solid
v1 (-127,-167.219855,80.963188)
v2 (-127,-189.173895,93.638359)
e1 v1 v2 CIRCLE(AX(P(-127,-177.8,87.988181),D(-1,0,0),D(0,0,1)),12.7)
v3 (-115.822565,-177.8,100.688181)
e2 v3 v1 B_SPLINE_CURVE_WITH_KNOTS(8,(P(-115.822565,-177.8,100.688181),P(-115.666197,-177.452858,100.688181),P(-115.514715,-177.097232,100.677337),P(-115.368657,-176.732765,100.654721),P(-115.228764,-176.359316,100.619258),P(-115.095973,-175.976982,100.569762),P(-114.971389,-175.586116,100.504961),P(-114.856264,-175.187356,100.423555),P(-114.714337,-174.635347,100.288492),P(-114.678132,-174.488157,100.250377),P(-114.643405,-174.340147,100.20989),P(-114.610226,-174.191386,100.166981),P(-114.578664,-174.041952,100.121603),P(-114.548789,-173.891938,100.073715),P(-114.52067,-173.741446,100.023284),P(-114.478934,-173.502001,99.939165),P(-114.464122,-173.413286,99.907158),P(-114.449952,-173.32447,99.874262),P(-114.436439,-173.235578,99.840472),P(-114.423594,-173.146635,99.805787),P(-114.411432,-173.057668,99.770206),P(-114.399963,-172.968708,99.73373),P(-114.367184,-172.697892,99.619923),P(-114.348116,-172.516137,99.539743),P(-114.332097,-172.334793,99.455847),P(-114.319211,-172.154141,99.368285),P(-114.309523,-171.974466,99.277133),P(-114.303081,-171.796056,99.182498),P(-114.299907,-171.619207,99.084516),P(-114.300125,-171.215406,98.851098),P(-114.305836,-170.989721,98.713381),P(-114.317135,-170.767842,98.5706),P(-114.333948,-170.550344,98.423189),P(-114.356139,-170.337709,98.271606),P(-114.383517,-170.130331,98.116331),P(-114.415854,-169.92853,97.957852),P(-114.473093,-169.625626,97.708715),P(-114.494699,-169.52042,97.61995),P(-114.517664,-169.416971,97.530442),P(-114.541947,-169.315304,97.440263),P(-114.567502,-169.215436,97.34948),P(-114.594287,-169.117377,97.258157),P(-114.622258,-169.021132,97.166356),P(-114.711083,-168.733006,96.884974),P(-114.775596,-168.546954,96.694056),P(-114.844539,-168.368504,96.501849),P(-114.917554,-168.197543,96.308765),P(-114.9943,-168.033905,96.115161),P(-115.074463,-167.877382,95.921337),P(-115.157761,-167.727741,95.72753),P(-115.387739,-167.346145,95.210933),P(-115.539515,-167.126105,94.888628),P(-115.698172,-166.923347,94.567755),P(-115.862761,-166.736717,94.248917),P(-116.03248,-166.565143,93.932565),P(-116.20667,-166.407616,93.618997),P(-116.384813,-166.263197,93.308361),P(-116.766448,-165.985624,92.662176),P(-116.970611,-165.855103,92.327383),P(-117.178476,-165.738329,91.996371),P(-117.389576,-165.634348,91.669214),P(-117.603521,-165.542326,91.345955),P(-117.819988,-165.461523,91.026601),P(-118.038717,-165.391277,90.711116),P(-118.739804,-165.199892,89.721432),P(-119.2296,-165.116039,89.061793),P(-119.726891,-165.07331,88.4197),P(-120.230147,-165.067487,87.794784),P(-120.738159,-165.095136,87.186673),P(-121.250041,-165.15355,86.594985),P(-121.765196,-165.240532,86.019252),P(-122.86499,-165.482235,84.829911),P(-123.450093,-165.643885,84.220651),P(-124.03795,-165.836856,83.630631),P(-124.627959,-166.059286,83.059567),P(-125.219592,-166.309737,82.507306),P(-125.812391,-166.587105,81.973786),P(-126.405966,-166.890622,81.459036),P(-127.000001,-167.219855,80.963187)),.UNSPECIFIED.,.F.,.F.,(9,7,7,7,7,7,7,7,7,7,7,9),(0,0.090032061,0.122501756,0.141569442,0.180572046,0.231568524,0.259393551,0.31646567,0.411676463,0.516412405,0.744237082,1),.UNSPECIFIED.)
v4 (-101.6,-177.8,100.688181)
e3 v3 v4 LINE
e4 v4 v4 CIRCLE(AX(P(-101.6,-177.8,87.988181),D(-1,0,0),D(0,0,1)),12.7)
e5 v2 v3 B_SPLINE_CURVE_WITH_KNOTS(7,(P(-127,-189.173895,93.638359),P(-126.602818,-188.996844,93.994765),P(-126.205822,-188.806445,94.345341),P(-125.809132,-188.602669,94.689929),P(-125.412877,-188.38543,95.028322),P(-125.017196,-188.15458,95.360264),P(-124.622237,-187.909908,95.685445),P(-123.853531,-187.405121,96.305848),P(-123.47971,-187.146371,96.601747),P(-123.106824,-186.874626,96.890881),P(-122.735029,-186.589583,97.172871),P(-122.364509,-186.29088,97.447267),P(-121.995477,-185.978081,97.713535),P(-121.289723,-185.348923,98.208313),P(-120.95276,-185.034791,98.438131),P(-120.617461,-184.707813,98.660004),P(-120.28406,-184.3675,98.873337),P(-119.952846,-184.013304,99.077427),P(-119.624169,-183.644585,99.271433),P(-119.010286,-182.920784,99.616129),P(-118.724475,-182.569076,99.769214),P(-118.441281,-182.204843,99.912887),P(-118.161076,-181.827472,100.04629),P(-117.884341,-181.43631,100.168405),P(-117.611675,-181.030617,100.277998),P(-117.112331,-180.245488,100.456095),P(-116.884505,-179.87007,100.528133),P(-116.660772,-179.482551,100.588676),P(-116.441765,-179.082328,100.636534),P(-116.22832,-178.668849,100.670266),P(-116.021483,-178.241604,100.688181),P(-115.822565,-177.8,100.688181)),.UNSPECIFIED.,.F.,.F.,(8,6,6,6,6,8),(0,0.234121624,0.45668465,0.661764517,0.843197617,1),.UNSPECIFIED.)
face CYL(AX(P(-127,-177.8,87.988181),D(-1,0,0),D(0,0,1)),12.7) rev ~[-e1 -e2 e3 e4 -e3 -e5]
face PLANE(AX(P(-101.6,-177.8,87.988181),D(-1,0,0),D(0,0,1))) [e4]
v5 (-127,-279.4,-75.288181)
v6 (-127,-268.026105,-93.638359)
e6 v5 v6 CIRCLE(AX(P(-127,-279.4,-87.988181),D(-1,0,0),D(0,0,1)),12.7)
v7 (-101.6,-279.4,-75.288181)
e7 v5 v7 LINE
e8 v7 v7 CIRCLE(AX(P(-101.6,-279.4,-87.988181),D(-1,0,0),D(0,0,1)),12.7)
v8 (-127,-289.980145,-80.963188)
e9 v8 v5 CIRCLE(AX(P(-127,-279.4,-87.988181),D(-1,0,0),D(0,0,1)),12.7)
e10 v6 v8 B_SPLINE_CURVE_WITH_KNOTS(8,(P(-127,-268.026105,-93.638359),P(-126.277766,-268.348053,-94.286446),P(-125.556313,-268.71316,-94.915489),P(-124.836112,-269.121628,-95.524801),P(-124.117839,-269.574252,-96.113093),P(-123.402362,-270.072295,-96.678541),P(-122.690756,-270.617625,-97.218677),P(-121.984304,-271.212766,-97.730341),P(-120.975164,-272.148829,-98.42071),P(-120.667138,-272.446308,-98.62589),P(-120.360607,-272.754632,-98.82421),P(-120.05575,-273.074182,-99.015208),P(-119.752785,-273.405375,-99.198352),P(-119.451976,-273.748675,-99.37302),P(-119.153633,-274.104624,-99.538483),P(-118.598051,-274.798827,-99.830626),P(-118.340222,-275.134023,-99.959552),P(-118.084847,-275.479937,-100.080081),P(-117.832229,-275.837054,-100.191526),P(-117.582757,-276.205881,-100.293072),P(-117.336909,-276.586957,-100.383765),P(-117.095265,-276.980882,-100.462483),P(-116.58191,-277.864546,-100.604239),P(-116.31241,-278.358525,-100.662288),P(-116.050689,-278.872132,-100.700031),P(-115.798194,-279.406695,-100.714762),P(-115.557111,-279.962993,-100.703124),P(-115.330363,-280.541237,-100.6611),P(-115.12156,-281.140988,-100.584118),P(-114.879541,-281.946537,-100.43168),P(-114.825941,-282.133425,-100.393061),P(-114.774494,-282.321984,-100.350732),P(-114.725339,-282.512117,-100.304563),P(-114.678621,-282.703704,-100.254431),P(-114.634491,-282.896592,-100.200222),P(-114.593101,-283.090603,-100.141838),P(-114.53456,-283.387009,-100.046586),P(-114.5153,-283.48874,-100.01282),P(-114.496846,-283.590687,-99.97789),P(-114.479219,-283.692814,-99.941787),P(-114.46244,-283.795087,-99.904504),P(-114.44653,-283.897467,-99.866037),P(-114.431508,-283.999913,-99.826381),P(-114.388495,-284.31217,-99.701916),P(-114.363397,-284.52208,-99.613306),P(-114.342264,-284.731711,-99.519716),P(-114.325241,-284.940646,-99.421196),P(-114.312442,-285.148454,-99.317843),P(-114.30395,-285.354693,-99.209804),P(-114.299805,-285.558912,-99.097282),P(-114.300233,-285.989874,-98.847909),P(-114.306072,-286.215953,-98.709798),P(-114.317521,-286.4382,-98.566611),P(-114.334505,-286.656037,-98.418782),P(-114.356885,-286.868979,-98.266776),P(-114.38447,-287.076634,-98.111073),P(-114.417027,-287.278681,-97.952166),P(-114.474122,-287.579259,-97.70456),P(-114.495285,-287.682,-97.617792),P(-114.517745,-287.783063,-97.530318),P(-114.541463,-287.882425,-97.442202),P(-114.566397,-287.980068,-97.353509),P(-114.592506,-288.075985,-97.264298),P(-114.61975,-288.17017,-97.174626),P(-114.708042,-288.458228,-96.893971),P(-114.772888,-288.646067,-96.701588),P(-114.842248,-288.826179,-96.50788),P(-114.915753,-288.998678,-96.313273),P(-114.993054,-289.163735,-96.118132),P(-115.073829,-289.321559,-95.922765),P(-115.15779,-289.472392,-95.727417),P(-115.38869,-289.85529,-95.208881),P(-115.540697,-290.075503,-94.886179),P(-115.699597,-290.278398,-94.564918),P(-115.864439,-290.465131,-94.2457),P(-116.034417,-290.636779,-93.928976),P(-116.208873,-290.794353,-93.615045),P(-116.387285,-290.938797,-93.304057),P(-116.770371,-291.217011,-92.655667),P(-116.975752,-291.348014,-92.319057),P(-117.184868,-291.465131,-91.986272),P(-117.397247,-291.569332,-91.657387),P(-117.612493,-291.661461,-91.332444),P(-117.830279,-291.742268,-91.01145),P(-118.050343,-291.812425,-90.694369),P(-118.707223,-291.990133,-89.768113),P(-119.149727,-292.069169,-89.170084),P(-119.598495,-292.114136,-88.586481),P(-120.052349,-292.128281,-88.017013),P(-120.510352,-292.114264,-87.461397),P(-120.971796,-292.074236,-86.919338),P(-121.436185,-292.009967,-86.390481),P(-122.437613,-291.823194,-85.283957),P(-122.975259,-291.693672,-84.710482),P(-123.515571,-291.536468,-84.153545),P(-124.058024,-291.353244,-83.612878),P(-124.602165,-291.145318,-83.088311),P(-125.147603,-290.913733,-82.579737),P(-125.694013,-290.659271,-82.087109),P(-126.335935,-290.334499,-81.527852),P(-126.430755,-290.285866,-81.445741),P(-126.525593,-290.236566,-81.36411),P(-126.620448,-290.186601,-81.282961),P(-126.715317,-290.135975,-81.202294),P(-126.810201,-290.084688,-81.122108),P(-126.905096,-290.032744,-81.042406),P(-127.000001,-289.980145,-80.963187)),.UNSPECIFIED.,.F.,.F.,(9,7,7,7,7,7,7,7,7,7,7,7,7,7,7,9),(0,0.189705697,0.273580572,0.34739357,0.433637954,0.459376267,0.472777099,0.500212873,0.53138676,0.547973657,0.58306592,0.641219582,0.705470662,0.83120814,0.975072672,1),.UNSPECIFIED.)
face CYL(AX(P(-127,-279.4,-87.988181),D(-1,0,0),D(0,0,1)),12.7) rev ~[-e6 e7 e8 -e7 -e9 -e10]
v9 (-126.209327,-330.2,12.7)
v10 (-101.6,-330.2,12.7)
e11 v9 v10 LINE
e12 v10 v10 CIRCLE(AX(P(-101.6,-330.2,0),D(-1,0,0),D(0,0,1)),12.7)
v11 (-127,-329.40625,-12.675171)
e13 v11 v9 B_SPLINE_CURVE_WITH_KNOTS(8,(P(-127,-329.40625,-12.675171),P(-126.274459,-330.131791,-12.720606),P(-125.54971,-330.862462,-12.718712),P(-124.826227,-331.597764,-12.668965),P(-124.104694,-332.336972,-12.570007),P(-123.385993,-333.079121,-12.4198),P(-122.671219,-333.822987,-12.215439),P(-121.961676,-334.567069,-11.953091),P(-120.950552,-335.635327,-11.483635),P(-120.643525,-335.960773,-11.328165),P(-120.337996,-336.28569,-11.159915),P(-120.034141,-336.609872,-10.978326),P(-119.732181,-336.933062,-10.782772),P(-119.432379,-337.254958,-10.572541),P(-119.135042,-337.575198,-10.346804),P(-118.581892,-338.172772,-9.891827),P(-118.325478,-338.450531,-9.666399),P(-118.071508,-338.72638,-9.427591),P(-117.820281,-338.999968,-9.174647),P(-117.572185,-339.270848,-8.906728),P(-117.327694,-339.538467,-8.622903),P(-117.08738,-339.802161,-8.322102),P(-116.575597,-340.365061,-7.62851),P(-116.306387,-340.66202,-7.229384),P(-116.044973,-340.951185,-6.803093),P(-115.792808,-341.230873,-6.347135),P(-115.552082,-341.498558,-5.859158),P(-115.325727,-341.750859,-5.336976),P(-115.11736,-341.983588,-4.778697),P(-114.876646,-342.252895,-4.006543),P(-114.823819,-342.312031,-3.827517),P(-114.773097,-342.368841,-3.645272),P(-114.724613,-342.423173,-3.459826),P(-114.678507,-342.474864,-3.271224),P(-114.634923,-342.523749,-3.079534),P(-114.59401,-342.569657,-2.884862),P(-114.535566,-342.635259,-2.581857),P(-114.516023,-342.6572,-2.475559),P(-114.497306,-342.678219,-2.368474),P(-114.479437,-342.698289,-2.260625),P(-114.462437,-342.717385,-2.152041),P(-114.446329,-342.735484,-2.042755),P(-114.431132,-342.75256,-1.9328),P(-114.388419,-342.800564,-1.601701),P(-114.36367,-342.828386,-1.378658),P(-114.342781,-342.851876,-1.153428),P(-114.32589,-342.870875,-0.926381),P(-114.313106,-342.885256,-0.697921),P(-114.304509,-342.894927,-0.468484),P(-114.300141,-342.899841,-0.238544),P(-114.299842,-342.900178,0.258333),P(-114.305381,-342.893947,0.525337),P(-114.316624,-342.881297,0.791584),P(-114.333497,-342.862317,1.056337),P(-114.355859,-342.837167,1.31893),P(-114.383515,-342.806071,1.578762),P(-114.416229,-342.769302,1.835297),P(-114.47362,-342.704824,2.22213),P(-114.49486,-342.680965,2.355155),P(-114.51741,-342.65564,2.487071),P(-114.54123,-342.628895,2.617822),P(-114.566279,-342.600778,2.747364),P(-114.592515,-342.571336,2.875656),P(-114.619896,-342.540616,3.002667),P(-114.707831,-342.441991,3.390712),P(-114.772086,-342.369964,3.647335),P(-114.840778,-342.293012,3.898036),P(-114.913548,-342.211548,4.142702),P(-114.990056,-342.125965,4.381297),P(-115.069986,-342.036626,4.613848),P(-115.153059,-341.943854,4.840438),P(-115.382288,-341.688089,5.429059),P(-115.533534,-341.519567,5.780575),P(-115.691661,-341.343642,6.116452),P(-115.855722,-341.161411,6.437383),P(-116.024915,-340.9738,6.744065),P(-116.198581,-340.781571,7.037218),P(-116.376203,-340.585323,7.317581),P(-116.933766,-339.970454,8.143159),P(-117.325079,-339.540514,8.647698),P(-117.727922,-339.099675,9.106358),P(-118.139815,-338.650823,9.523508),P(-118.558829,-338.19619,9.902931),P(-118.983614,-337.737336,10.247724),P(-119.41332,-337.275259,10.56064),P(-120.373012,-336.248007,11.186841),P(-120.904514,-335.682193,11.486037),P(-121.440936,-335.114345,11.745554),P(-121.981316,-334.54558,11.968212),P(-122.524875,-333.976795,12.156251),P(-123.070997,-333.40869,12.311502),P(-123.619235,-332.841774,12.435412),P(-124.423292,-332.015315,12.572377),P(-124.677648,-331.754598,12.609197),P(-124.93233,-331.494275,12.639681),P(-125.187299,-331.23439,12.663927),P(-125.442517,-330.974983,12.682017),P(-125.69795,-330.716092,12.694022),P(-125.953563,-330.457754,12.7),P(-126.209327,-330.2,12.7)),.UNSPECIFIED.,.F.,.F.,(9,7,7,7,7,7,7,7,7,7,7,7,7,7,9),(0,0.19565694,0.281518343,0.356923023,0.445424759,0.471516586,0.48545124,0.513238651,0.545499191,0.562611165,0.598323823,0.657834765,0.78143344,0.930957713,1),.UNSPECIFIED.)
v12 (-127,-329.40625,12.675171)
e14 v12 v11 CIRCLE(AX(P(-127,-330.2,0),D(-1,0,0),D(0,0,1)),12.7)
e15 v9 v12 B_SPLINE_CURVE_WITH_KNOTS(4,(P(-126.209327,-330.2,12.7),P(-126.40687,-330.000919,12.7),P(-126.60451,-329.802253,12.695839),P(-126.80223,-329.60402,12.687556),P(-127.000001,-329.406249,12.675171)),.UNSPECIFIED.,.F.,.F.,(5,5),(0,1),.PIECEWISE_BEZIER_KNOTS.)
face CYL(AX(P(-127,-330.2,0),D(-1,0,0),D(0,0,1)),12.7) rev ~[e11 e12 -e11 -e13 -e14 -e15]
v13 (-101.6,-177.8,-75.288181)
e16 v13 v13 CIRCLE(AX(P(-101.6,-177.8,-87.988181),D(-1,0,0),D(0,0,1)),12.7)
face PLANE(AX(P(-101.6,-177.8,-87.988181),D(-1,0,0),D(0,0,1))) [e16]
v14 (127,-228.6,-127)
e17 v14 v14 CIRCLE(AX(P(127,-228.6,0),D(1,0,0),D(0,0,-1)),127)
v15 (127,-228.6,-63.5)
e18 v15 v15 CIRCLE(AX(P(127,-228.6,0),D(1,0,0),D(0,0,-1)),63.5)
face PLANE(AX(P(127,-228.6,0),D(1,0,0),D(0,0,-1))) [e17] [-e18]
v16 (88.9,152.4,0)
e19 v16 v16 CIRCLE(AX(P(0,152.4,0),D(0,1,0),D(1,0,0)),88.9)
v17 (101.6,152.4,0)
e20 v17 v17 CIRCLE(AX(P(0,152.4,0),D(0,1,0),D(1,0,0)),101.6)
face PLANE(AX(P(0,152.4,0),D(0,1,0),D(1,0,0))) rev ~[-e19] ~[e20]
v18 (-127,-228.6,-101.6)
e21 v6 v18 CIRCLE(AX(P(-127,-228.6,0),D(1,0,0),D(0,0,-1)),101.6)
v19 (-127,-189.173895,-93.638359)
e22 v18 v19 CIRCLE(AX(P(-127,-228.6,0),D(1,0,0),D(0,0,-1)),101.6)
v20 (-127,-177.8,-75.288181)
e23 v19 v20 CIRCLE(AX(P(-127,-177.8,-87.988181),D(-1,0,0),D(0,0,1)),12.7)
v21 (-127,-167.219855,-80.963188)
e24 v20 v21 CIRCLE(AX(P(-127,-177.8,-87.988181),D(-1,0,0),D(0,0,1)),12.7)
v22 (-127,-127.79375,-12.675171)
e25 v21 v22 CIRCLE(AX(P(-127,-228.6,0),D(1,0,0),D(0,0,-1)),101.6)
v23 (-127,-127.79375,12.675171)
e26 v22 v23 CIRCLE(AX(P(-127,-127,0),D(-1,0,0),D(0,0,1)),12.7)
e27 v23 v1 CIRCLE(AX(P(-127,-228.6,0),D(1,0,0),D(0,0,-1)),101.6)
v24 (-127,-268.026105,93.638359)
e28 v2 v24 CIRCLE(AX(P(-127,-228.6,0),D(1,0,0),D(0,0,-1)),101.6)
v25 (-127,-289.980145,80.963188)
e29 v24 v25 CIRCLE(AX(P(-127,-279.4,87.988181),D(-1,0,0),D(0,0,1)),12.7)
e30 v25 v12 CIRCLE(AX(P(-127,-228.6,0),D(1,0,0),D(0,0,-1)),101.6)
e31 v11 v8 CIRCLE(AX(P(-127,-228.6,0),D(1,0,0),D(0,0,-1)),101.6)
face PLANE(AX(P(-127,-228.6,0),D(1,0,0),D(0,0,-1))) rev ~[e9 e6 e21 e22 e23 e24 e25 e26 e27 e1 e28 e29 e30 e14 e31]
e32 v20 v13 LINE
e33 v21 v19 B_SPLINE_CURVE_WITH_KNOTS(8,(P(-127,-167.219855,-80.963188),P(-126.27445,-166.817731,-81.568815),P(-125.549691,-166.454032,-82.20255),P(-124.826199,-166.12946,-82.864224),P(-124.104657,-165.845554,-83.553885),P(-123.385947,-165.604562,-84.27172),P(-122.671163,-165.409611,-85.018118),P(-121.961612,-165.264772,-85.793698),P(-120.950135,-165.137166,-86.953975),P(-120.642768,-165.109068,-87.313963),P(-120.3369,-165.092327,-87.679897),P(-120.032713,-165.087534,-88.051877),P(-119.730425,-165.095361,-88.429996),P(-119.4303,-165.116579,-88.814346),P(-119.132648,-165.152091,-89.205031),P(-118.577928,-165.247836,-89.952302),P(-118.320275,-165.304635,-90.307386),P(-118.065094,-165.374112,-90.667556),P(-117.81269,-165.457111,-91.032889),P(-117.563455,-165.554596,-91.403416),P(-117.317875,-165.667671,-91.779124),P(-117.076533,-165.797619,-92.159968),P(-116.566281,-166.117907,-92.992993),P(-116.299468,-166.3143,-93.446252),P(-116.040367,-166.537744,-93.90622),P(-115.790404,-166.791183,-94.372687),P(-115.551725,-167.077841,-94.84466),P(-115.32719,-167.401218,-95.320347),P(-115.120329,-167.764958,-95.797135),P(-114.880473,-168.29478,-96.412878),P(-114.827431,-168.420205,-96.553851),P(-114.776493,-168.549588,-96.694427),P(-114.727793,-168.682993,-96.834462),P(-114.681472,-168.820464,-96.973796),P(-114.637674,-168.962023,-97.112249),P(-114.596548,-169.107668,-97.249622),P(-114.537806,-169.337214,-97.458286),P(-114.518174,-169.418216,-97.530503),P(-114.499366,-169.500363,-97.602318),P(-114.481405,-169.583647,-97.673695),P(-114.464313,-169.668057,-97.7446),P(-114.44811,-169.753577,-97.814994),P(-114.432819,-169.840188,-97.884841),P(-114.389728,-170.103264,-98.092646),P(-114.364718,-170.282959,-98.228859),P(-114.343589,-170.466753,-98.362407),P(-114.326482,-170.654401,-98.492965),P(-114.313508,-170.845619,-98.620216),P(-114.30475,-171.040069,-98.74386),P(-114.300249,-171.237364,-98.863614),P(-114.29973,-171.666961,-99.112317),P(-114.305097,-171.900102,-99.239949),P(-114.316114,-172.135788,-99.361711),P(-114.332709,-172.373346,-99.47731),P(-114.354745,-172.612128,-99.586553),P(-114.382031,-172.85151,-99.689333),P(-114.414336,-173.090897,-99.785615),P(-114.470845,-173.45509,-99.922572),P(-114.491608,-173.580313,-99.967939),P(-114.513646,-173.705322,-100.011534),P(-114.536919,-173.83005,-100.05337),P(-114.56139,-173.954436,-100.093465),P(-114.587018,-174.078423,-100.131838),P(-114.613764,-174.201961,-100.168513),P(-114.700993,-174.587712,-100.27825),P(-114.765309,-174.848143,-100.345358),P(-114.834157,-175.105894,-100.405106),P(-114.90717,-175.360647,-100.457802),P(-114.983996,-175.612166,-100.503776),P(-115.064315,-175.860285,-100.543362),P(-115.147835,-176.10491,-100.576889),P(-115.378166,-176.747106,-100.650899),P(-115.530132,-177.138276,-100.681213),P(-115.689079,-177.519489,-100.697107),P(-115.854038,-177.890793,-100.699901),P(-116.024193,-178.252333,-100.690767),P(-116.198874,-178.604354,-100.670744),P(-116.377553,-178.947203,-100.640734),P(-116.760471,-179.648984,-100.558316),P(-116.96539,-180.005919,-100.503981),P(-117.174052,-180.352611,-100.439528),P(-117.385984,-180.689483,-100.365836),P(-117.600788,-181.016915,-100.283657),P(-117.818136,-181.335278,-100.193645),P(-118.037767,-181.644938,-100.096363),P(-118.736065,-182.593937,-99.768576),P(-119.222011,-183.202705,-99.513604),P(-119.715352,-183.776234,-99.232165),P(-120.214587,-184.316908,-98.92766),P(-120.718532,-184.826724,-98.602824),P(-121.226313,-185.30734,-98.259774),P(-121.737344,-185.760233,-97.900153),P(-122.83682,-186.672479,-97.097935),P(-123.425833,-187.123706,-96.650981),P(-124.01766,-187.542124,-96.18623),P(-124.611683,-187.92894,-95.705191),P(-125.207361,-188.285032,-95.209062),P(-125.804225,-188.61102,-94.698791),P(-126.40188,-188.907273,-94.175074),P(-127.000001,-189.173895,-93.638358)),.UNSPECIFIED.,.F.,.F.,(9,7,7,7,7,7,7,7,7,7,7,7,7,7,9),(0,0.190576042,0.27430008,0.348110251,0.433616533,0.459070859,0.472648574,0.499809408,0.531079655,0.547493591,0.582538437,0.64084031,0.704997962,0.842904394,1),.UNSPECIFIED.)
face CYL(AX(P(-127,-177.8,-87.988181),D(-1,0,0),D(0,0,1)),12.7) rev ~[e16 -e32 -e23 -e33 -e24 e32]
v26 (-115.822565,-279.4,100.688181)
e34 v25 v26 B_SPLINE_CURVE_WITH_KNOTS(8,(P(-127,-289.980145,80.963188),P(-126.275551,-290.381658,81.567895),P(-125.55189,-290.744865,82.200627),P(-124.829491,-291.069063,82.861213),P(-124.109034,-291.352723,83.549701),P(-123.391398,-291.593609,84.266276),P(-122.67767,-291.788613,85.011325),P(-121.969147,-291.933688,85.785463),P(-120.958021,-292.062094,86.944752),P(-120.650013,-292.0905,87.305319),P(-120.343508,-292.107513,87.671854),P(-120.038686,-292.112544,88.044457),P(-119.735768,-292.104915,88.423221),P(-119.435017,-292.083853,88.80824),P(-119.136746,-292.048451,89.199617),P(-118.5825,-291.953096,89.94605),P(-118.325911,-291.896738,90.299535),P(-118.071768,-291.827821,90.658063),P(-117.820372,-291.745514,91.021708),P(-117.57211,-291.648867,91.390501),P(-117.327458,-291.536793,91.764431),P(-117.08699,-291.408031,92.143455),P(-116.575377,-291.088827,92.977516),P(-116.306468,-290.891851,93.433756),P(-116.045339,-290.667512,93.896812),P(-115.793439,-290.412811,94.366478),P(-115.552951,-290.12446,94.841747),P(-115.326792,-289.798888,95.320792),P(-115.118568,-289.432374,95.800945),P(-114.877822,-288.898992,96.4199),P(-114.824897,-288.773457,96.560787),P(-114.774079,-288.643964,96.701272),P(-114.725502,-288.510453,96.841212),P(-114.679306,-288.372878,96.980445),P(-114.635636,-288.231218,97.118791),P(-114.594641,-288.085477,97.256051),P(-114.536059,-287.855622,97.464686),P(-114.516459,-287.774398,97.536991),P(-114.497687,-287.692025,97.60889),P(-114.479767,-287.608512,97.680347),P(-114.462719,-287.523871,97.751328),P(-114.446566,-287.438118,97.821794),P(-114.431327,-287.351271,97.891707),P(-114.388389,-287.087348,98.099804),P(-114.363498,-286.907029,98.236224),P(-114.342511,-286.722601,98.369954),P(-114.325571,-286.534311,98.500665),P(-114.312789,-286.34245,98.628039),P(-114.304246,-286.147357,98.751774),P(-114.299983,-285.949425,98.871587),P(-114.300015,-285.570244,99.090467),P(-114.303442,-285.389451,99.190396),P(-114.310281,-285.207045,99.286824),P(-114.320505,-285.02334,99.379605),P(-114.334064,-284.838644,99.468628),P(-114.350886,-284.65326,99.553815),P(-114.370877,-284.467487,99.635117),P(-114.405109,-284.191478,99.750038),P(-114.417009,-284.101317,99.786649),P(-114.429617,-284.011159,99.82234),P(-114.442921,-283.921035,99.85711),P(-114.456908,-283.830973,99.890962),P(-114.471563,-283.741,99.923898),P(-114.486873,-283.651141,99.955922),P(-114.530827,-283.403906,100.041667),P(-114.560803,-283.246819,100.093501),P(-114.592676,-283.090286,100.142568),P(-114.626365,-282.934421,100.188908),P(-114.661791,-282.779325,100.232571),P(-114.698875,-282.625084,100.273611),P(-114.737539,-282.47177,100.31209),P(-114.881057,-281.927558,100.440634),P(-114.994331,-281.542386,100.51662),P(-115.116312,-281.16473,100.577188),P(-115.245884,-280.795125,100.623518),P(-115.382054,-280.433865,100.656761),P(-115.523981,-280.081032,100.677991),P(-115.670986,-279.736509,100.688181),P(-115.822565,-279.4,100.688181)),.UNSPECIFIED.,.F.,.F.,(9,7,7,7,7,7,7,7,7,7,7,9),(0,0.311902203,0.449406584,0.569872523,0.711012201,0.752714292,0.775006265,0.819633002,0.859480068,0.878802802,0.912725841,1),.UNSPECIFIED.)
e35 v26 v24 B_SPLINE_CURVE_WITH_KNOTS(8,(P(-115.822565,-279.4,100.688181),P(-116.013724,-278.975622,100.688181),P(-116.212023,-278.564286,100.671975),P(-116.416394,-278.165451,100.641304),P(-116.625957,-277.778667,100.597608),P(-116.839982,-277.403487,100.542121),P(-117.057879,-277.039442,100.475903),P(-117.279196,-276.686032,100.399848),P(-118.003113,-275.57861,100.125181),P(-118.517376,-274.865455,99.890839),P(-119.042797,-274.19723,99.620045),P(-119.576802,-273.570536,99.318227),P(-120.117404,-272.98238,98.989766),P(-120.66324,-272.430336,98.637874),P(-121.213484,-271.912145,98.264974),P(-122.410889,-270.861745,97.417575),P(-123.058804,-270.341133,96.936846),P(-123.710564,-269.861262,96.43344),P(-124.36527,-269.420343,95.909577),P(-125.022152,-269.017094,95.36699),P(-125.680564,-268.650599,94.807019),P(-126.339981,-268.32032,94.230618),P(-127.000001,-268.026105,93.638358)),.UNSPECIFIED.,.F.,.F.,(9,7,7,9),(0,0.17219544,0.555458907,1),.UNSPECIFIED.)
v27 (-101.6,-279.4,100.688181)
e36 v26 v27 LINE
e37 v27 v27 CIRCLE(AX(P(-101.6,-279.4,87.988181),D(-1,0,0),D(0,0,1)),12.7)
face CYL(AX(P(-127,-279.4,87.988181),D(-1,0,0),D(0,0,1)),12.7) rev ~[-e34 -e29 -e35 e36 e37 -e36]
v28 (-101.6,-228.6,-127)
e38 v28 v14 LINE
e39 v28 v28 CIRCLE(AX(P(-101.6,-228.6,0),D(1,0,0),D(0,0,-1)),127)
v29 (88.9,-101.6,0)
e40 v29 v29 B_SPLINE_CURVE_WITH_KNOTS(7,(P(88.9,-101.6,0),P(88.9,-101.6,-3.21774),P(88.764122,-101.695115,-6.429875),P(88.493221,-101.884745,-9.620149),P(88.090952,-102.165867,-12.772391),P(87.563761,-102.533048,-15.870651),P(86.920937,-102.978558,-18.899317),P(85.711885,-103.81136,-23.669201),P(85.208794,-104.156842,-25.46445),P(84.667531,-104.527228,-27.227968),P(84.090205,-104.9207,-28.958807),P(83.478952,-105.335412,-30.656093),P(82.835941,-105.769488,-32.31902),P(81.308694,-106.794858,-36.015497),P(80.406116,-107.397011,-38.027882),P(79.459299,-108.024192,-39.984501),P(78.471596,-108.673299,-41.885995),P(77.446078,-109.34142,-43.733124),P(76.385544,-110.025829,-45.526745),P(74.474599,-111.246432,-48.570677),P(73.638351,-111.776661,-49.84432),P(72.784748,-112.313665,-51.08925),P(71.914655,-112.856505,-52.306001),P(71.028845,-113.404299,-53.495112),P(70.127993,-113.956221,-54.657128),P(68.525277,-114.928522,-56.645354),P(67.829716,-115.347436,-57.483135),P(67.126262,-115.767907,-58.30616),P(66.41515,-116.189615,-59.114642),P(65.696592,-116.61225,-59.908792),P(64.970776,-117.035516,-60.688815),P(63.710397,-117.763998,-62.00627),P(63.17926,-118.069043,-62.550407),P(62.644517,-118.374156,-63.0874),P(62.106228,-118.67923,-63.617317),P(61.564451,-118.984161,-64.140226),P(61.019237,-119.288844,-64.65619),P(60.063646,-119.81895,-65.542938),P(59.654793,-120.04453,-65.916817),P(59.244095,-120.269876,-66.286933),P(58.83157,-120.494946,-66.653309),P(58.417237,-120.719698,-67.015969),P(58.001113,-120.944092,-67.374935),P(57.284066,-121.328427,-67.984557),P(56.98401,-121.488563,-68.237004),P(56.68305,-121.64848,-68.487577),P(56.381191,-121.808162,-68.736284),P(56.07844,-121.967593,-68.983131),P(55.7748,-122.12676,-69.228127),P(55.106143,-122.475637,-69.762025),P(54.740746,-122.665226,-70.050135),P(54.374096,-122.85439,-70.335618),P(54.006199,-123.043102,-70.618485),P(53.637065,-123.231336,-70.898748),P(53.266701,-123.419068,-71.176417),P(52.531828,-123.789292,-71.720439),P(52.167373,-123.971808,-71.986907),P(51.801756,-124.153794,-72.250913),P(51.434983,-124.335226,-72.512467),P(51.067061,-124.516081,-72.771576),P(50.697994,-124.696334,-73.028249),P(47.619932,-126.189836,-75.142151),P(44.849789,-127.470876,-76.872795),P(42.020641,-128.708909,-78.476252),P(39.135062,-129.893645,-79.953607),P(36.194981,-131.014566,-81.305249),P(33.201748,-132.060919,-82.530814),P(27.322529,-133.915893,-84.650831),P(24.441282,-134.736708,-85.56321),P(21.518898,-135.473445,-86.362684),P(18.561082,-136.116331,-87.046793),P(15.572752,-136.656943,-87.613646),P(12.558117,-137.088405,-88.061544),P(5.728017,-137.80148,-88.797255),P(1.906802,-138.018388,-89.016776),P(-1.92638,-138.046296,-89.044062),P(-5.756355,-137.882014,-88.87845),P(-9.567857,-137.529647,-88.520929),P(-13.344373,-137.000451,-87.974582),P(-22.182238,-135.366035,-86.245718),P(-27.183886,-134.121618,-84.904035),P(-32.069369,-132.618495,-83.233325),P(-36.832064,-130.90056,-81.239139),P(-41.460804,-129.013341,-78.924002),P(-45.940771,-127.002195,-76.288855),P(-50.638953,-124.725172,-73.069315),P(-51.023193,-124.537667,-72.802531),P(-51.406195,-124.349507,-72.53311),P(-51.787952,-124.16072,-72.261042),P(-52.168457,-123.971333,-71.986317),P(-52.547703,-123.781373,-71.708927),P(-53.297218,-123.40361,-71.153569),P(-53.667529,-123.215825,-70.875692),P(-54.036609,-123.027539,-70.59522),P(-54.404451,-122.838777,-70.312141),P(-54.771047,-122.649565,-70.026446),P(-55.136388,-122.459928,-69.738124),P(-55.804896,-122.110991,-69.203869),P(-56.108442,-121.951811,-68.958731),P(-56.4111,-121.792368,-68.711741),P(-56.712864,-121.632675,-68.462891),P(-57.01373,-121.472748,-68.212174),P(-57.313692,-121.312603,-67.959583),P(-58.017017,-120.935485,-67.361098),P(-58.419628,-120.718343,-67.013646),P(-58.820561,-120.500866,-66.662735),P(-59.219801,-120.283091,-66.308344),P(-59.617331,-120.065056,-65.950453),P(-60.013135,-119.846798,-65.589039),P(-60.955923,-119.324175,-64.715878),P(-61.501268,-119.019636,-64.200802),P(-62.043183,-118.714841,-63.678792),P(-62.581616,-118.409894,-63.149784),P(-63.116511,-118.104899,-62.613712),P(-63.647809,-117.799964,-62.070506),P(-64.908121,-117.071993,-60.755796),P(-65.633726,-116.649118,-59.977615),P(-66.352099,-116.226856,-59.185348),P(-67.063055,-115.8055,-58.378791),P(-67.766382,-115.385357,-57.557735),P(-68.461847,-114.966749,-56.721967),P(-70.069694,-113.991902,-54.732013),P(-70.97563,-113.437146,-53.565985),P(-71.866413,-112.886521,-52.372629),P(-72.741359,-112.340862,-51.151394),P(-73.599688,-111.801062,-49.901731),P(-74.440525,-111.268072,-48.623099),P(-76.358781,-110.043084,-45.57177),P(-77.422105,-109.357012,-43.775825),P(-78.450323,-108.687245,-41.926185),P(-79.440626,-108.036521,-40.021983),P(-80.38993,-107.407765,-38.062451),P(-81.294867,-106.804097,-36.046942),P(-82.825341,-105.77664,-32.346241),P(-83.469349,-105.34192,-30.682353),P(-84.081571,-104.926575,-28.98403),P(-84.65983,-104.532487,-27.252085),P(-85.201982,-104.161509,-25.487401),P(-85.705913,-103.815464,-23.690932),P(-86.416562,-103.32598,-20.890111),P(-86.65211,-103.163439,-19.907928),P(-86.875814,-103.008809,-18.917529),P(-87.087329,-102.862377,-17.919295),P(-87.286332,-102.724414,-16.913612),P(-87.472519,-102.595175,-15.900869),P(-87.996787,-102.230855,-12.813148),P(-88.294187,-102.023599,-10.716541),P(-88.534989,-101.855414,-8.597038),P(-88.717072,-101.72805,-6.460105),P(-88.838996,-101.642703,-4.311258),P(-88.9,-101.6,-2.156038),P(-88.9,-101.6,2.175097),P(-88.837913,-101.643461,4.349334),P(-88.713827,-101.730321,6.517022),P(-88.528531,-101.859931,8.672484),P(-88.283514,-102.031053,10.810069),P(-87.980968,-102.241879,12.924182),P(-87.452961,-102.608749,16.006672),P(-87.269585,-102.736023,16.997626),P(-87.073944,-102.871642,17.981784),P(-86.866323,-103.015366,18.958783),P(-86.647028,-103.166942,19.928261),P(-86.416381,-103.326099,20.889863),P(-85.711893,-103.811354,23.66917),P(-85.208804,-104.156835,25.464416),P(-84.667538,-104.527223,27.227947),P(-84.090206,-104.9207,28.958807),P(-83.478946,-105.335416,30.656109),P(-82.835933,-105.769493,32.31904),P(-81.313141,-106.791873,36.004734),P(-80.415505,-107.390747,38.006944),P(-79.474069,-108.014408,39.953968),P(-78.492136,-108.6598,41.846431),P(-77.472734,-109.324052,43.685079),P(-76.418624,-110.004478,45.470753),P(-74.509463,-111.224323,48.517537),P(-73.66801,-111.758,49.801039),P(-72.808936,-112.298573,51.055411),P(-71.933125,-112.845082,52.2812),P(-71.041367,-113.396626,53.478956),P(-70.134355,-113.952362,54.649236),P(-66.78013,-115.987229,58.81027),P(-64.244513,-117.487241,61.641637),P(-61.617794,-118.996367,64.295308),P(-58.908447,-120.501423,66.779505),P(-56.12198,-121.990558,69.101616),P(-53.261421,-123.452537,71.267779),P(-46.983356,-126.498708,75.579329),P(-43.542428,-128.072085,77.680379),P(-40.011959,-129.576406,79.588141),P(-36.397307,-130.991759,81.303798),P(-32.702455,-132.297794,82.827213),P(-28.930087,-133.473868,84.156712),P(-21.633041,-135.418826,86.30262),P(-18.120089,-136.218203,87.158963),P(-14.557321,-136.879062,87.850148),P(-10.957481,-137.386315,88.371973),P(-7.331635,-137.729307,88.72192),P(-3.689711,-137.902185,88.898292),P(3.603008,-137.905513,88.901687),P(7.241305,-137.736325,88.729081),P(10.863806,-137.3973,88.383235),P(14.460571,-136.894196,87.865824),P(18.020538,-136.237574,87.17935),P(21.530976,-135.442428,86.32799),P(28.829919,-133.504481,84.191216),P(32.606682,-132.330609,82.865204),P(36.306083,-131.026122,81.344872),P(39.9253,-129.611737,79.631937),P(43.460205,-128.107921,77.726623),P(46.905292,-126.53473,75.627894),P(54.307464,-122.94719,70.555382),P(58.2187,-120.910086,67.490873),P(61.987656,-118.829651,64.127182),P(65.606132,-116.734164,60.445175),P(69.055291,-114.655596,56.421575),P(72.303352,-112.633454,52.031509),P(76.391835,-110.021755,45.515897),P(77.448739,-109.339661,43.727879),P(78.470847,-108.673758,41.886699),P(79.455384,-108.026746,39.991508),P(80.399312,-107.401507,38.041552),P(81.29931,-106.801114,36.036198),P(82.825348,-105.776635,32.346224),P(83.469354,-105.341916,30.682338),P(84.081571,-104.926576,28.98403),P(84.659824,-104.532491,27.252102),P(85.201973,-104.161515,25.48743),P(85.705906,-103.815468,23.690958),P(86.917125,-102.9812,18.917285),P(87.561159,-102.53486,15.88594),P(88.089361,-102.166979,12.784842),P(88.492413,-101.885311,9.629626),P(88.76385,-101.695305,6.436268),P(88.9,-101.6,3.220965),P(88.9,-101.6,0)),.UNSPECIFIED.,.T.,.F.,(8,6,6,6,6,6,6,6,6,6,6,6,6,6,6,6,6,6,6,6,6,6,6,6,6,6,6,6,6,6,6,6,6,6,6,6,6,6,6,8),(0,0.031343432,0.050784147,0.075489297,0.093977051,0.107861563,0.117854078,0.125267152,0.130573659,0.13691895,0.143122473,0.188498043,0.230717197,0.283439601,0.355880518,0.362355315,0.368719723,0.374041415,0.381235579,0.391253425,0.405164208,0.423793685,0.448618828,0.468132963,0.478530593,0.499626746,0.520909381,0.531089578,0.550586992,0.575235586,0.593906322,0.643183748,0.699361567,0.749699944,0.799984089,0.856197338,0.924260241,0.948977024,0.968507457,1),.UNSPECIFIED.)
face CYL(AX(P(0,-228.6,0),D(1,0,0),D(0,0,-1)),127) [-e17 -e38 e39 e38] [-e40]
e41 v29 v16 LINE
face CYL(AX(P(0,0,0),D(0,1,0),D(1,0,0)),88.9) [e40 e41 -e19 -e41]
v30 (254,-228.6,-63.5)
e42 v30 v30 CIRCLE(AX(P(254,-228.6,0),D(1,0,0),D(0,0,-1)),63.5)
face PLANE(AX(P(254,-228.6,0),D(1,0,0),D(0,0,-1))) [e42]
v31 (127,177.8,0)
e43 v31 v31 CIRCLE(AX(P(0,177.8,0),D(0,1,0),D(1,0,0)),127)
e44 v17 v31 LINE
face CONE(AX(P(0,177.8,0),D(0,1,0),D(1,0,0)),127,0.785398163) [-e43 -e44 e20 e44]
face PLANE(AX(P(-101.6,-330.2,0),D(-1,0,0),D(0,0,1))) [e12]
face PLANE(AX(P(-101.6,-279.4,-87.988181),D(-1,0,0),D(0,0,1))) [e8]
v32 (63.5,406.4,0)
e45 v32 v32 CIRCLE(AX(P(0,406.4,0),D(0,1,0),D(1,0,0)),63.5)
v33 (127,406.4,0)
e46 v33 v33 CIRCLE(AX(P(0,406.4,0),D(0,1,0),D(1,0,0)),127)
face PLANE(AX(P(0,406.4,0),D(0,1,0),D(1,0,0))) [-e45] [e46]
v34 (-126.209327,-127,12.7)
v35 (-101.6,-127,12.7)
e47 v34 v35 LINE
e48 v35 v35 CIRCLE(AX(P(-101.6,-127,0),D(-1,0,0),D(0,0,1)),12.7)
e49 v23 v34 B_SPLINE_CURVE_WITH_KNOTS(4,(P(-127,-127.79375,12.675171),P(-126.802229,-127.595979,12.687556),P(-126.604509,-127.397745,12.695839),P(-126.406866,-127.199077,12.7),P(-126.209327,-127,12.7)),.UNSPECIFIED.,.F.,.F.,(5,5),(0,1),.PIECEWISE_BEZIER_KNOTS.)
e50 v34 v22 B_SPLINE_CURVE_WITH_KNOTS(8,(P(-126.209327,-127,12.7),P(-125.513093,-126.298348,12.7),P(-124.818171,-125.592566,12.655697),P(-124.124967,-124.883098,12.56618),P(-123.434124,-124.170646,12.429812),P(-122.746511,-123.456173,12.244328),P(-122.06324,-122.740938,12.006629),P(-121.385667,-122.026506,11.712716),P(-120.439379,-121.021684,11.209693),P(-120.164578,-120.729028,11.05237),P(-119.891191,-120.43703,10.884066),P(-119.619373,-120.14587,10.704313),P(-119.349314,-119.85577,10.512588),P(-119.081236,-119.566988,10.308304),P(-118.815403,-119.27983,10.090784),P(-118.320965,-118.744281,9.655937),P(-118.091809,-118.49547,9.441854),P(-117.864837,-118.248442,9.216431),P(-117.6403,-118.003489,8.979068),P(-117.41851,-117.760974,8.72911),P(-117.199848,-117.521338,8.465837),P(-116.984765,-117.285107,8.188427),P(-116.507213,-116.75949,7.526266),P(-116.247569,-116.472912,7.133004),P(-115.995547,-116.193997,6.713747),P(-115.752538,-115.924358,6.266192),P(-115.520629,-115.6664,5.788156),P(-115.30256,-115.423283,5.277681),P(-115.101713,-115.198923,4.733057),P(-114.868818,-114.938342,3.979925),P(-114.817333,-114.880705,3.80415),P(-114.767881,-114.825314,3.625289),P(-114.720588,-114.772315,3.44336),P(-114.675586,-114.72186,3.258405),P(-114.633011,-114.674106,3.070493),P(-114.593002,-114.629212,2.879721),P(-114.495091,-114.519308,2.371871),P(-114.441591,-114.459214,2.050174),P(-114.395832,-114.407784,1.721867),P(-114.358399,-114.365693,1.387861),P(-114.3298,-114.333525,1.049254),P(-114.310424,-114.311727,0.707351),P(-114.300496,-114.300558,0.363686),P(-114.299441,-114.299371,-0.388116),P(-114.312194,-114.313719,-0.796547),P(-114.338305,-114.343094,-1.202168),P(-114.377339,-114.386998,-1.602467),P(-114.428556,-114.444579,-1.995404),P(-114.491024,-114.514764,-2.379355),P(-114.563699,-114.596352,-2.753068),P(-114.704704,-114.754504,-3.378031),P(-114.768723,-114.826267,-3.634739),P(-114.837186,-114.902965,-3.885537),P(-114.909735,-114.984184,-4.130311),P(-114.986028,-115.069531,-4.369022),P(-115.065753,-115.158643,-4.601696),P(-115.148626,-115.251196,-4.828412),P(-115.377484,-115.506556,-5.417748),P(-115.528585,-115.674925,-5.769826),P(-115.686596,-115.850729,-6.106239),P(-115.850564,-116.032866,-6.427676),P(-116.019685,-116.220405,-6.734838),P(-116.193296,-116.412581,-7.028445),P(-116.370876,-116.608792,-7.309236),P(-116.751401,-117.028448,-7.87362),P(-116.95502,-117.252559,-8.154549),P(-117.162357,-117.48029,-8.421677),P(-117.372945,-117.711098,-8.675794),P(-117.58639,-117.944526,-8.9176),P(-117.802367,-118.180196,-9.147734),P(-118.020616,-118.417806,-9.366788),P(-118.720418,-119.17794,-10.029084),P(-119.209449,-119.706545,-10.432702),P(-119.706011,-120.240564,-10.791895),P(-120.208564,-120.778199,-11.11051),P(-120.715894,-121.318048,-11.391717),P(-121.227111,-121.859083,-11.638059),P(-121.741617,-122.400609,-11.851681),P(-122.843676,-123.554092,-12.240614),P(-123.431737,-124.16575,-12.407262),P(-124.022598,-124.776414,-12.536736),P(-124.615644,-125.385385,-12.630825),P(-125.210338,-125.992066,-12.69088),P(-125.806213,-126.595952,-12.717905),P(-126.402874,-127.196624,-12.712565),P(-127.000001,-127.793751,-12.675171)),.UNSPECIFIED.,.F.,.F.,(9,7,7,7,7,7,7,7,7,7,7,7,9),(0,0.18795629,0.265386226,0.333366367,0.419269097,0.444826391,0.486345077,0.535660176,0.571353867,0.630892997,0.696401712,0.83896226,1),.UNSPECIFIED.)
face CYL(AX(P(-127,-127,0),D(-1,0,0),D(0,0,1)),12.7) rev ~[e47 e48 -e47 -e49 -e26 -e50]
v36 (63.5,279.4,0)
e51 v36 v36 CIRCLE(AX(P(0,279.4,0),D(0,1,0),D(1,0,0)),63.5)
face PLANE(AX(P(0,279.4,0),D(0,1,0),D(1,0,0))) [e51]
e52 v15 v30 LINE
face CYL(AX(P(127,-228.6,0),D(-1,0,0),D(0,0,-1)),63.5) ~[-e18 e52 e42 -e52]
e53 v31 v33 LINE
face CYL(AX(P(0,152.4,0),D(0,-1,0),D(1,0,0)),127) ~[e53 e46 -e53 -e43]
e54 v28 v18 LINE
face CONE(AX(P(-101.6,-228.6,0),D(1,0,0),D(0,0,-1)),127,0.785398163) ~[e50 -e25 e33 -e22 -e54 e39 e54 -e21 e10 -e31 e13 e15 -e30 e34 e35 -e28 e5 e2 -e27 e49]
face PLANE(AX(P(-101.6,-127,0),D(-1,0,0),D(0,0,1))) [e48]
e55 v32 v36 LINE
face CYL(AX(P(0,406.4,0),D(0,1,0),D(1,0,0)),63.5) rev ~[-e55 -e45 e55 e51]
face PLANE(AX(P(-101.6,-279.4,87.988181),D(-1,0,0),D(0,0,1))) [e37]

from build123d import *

# Parameters (mm, degrees)
SKETCH1_R           = 88.9
BOSS_EXTRUDE1_DEPTH = 152.4
SKETCH4_R           = 127
BOSS_EXTRUDE2_DEPTH = 127
SKETCH5_R           = 63.5
BOSS_EXTRUDE3_DEPTH = 127
SKETCH6_R           = 127
BOSS_EXTRUDE4_DEPTH = 254
SKETCH7_R           = 63.5
CUT_EXTRUDE1_DEPTH  = 127
CHAMFER1_SIZE       = 25.4
SKETCH8_R           = 12.7
CUT_EXTRUDE2_DEPTH  = 25.4
CHAMFER2_SIZE       = 25.4


with BuildPart() as part:
    # Sketch1 → Boss-Extrude1 (new body, symmetric)
    with BuildSketch(Plane(origin=(0, 0, 0), x_dir=(1, 0, 0), z_dir=(0, 1, 0))):
        Circle(SKETCH1_R)
    extrude(amount=BOSS_EXTRUDE1_DEPTH, both=True)

    # Sketch4 → Boss-Extrude2 (add, symmetric)
    with BuildSketch(Plane(origin=(0, 0, 0), x_dir=(0, 0, -1), z_dir=(1, 0, 0))):
        with Locations((0, -228.6)):
            Circle(SKETCH4_R)
    extrude(amount=BOSS_EXTRUDE2_DEPTH, both=True)

    # Sketch5 → Boss-Extrude3 (add)
    with BuildSketch(Plane(origin=(127, 0, 0), x_dir=(0, 0, -1), z_dir=(1, 0, 0))):
        with Locations((0, -228.6)):
            Circle(SKETCH5_R)
    extrude(amount=BOSS_EXTRUDE3_DEPTH)

    # Sketch6 → Boss-Extrude4 (add)
    with BuildSketch(Plane(origin=(0, 152.4, 0), x_dir=(1, 0, 0), z_dir=(0, 1, 0))):
        Circle(SKETCH6_R)
    extrude(amount=BOSS_EXTRUDE4_DEPTH)

    # Sketch7 → Cut-Extrude1 (cut)
    with BuildSketch(Plane(origin=(0, 406.4, 0), x_dir=(1, 0, 0), z_dir=(0, 1, 0))):
        Circle(SKETCH7_R)
    extrude(amount=-CUT_EXTRUDE1_DEPTH, mode=Mode.SUBTRACT)

    # Chamfer1
    chamfer1_edges = [part.edges().sort_by_distance(p)[0] for p in [
        (-127, -228.6, 127),
    ]]
    chamfer(chamfer1_edges, length=CHAMFER1_SIZE)

    # Sketch8 → Cut-Extrude2 (cut)
    with BuildSketch(Plane.ZY.offset(127)):
        with Locations((0, -127)):
            Circle(SKETCH8_R)
        with Locations((87.988181025, -177.8)):
            Circle(SKETCH8_R)
        with Locations((87.988181025, -279.4)):
            Circle(SKETCH8_R)
        with Locations((0, -330.2)):
            Circle(SKETCH8_R)
        with Locations((-87.988181024, -279.4)):
            Circle(SKETCH8_R)
        with Locations((-87.988181024, -177.8)):
            Circle(SKETCH8_R)
    extrude(amount=-CUT_EXTRUDE2_DEPTH, mode=Mode.SUBTRACT)

    # Chamfer2
    chamfer2_edges = [part.edges().sort_by_distance(p)[0] for p in [
        (-127, 152.4, 0),
    ]]
    chamfer(chamfer2_edges, length=CHAMFER2_SIZE)


solid = part.part
